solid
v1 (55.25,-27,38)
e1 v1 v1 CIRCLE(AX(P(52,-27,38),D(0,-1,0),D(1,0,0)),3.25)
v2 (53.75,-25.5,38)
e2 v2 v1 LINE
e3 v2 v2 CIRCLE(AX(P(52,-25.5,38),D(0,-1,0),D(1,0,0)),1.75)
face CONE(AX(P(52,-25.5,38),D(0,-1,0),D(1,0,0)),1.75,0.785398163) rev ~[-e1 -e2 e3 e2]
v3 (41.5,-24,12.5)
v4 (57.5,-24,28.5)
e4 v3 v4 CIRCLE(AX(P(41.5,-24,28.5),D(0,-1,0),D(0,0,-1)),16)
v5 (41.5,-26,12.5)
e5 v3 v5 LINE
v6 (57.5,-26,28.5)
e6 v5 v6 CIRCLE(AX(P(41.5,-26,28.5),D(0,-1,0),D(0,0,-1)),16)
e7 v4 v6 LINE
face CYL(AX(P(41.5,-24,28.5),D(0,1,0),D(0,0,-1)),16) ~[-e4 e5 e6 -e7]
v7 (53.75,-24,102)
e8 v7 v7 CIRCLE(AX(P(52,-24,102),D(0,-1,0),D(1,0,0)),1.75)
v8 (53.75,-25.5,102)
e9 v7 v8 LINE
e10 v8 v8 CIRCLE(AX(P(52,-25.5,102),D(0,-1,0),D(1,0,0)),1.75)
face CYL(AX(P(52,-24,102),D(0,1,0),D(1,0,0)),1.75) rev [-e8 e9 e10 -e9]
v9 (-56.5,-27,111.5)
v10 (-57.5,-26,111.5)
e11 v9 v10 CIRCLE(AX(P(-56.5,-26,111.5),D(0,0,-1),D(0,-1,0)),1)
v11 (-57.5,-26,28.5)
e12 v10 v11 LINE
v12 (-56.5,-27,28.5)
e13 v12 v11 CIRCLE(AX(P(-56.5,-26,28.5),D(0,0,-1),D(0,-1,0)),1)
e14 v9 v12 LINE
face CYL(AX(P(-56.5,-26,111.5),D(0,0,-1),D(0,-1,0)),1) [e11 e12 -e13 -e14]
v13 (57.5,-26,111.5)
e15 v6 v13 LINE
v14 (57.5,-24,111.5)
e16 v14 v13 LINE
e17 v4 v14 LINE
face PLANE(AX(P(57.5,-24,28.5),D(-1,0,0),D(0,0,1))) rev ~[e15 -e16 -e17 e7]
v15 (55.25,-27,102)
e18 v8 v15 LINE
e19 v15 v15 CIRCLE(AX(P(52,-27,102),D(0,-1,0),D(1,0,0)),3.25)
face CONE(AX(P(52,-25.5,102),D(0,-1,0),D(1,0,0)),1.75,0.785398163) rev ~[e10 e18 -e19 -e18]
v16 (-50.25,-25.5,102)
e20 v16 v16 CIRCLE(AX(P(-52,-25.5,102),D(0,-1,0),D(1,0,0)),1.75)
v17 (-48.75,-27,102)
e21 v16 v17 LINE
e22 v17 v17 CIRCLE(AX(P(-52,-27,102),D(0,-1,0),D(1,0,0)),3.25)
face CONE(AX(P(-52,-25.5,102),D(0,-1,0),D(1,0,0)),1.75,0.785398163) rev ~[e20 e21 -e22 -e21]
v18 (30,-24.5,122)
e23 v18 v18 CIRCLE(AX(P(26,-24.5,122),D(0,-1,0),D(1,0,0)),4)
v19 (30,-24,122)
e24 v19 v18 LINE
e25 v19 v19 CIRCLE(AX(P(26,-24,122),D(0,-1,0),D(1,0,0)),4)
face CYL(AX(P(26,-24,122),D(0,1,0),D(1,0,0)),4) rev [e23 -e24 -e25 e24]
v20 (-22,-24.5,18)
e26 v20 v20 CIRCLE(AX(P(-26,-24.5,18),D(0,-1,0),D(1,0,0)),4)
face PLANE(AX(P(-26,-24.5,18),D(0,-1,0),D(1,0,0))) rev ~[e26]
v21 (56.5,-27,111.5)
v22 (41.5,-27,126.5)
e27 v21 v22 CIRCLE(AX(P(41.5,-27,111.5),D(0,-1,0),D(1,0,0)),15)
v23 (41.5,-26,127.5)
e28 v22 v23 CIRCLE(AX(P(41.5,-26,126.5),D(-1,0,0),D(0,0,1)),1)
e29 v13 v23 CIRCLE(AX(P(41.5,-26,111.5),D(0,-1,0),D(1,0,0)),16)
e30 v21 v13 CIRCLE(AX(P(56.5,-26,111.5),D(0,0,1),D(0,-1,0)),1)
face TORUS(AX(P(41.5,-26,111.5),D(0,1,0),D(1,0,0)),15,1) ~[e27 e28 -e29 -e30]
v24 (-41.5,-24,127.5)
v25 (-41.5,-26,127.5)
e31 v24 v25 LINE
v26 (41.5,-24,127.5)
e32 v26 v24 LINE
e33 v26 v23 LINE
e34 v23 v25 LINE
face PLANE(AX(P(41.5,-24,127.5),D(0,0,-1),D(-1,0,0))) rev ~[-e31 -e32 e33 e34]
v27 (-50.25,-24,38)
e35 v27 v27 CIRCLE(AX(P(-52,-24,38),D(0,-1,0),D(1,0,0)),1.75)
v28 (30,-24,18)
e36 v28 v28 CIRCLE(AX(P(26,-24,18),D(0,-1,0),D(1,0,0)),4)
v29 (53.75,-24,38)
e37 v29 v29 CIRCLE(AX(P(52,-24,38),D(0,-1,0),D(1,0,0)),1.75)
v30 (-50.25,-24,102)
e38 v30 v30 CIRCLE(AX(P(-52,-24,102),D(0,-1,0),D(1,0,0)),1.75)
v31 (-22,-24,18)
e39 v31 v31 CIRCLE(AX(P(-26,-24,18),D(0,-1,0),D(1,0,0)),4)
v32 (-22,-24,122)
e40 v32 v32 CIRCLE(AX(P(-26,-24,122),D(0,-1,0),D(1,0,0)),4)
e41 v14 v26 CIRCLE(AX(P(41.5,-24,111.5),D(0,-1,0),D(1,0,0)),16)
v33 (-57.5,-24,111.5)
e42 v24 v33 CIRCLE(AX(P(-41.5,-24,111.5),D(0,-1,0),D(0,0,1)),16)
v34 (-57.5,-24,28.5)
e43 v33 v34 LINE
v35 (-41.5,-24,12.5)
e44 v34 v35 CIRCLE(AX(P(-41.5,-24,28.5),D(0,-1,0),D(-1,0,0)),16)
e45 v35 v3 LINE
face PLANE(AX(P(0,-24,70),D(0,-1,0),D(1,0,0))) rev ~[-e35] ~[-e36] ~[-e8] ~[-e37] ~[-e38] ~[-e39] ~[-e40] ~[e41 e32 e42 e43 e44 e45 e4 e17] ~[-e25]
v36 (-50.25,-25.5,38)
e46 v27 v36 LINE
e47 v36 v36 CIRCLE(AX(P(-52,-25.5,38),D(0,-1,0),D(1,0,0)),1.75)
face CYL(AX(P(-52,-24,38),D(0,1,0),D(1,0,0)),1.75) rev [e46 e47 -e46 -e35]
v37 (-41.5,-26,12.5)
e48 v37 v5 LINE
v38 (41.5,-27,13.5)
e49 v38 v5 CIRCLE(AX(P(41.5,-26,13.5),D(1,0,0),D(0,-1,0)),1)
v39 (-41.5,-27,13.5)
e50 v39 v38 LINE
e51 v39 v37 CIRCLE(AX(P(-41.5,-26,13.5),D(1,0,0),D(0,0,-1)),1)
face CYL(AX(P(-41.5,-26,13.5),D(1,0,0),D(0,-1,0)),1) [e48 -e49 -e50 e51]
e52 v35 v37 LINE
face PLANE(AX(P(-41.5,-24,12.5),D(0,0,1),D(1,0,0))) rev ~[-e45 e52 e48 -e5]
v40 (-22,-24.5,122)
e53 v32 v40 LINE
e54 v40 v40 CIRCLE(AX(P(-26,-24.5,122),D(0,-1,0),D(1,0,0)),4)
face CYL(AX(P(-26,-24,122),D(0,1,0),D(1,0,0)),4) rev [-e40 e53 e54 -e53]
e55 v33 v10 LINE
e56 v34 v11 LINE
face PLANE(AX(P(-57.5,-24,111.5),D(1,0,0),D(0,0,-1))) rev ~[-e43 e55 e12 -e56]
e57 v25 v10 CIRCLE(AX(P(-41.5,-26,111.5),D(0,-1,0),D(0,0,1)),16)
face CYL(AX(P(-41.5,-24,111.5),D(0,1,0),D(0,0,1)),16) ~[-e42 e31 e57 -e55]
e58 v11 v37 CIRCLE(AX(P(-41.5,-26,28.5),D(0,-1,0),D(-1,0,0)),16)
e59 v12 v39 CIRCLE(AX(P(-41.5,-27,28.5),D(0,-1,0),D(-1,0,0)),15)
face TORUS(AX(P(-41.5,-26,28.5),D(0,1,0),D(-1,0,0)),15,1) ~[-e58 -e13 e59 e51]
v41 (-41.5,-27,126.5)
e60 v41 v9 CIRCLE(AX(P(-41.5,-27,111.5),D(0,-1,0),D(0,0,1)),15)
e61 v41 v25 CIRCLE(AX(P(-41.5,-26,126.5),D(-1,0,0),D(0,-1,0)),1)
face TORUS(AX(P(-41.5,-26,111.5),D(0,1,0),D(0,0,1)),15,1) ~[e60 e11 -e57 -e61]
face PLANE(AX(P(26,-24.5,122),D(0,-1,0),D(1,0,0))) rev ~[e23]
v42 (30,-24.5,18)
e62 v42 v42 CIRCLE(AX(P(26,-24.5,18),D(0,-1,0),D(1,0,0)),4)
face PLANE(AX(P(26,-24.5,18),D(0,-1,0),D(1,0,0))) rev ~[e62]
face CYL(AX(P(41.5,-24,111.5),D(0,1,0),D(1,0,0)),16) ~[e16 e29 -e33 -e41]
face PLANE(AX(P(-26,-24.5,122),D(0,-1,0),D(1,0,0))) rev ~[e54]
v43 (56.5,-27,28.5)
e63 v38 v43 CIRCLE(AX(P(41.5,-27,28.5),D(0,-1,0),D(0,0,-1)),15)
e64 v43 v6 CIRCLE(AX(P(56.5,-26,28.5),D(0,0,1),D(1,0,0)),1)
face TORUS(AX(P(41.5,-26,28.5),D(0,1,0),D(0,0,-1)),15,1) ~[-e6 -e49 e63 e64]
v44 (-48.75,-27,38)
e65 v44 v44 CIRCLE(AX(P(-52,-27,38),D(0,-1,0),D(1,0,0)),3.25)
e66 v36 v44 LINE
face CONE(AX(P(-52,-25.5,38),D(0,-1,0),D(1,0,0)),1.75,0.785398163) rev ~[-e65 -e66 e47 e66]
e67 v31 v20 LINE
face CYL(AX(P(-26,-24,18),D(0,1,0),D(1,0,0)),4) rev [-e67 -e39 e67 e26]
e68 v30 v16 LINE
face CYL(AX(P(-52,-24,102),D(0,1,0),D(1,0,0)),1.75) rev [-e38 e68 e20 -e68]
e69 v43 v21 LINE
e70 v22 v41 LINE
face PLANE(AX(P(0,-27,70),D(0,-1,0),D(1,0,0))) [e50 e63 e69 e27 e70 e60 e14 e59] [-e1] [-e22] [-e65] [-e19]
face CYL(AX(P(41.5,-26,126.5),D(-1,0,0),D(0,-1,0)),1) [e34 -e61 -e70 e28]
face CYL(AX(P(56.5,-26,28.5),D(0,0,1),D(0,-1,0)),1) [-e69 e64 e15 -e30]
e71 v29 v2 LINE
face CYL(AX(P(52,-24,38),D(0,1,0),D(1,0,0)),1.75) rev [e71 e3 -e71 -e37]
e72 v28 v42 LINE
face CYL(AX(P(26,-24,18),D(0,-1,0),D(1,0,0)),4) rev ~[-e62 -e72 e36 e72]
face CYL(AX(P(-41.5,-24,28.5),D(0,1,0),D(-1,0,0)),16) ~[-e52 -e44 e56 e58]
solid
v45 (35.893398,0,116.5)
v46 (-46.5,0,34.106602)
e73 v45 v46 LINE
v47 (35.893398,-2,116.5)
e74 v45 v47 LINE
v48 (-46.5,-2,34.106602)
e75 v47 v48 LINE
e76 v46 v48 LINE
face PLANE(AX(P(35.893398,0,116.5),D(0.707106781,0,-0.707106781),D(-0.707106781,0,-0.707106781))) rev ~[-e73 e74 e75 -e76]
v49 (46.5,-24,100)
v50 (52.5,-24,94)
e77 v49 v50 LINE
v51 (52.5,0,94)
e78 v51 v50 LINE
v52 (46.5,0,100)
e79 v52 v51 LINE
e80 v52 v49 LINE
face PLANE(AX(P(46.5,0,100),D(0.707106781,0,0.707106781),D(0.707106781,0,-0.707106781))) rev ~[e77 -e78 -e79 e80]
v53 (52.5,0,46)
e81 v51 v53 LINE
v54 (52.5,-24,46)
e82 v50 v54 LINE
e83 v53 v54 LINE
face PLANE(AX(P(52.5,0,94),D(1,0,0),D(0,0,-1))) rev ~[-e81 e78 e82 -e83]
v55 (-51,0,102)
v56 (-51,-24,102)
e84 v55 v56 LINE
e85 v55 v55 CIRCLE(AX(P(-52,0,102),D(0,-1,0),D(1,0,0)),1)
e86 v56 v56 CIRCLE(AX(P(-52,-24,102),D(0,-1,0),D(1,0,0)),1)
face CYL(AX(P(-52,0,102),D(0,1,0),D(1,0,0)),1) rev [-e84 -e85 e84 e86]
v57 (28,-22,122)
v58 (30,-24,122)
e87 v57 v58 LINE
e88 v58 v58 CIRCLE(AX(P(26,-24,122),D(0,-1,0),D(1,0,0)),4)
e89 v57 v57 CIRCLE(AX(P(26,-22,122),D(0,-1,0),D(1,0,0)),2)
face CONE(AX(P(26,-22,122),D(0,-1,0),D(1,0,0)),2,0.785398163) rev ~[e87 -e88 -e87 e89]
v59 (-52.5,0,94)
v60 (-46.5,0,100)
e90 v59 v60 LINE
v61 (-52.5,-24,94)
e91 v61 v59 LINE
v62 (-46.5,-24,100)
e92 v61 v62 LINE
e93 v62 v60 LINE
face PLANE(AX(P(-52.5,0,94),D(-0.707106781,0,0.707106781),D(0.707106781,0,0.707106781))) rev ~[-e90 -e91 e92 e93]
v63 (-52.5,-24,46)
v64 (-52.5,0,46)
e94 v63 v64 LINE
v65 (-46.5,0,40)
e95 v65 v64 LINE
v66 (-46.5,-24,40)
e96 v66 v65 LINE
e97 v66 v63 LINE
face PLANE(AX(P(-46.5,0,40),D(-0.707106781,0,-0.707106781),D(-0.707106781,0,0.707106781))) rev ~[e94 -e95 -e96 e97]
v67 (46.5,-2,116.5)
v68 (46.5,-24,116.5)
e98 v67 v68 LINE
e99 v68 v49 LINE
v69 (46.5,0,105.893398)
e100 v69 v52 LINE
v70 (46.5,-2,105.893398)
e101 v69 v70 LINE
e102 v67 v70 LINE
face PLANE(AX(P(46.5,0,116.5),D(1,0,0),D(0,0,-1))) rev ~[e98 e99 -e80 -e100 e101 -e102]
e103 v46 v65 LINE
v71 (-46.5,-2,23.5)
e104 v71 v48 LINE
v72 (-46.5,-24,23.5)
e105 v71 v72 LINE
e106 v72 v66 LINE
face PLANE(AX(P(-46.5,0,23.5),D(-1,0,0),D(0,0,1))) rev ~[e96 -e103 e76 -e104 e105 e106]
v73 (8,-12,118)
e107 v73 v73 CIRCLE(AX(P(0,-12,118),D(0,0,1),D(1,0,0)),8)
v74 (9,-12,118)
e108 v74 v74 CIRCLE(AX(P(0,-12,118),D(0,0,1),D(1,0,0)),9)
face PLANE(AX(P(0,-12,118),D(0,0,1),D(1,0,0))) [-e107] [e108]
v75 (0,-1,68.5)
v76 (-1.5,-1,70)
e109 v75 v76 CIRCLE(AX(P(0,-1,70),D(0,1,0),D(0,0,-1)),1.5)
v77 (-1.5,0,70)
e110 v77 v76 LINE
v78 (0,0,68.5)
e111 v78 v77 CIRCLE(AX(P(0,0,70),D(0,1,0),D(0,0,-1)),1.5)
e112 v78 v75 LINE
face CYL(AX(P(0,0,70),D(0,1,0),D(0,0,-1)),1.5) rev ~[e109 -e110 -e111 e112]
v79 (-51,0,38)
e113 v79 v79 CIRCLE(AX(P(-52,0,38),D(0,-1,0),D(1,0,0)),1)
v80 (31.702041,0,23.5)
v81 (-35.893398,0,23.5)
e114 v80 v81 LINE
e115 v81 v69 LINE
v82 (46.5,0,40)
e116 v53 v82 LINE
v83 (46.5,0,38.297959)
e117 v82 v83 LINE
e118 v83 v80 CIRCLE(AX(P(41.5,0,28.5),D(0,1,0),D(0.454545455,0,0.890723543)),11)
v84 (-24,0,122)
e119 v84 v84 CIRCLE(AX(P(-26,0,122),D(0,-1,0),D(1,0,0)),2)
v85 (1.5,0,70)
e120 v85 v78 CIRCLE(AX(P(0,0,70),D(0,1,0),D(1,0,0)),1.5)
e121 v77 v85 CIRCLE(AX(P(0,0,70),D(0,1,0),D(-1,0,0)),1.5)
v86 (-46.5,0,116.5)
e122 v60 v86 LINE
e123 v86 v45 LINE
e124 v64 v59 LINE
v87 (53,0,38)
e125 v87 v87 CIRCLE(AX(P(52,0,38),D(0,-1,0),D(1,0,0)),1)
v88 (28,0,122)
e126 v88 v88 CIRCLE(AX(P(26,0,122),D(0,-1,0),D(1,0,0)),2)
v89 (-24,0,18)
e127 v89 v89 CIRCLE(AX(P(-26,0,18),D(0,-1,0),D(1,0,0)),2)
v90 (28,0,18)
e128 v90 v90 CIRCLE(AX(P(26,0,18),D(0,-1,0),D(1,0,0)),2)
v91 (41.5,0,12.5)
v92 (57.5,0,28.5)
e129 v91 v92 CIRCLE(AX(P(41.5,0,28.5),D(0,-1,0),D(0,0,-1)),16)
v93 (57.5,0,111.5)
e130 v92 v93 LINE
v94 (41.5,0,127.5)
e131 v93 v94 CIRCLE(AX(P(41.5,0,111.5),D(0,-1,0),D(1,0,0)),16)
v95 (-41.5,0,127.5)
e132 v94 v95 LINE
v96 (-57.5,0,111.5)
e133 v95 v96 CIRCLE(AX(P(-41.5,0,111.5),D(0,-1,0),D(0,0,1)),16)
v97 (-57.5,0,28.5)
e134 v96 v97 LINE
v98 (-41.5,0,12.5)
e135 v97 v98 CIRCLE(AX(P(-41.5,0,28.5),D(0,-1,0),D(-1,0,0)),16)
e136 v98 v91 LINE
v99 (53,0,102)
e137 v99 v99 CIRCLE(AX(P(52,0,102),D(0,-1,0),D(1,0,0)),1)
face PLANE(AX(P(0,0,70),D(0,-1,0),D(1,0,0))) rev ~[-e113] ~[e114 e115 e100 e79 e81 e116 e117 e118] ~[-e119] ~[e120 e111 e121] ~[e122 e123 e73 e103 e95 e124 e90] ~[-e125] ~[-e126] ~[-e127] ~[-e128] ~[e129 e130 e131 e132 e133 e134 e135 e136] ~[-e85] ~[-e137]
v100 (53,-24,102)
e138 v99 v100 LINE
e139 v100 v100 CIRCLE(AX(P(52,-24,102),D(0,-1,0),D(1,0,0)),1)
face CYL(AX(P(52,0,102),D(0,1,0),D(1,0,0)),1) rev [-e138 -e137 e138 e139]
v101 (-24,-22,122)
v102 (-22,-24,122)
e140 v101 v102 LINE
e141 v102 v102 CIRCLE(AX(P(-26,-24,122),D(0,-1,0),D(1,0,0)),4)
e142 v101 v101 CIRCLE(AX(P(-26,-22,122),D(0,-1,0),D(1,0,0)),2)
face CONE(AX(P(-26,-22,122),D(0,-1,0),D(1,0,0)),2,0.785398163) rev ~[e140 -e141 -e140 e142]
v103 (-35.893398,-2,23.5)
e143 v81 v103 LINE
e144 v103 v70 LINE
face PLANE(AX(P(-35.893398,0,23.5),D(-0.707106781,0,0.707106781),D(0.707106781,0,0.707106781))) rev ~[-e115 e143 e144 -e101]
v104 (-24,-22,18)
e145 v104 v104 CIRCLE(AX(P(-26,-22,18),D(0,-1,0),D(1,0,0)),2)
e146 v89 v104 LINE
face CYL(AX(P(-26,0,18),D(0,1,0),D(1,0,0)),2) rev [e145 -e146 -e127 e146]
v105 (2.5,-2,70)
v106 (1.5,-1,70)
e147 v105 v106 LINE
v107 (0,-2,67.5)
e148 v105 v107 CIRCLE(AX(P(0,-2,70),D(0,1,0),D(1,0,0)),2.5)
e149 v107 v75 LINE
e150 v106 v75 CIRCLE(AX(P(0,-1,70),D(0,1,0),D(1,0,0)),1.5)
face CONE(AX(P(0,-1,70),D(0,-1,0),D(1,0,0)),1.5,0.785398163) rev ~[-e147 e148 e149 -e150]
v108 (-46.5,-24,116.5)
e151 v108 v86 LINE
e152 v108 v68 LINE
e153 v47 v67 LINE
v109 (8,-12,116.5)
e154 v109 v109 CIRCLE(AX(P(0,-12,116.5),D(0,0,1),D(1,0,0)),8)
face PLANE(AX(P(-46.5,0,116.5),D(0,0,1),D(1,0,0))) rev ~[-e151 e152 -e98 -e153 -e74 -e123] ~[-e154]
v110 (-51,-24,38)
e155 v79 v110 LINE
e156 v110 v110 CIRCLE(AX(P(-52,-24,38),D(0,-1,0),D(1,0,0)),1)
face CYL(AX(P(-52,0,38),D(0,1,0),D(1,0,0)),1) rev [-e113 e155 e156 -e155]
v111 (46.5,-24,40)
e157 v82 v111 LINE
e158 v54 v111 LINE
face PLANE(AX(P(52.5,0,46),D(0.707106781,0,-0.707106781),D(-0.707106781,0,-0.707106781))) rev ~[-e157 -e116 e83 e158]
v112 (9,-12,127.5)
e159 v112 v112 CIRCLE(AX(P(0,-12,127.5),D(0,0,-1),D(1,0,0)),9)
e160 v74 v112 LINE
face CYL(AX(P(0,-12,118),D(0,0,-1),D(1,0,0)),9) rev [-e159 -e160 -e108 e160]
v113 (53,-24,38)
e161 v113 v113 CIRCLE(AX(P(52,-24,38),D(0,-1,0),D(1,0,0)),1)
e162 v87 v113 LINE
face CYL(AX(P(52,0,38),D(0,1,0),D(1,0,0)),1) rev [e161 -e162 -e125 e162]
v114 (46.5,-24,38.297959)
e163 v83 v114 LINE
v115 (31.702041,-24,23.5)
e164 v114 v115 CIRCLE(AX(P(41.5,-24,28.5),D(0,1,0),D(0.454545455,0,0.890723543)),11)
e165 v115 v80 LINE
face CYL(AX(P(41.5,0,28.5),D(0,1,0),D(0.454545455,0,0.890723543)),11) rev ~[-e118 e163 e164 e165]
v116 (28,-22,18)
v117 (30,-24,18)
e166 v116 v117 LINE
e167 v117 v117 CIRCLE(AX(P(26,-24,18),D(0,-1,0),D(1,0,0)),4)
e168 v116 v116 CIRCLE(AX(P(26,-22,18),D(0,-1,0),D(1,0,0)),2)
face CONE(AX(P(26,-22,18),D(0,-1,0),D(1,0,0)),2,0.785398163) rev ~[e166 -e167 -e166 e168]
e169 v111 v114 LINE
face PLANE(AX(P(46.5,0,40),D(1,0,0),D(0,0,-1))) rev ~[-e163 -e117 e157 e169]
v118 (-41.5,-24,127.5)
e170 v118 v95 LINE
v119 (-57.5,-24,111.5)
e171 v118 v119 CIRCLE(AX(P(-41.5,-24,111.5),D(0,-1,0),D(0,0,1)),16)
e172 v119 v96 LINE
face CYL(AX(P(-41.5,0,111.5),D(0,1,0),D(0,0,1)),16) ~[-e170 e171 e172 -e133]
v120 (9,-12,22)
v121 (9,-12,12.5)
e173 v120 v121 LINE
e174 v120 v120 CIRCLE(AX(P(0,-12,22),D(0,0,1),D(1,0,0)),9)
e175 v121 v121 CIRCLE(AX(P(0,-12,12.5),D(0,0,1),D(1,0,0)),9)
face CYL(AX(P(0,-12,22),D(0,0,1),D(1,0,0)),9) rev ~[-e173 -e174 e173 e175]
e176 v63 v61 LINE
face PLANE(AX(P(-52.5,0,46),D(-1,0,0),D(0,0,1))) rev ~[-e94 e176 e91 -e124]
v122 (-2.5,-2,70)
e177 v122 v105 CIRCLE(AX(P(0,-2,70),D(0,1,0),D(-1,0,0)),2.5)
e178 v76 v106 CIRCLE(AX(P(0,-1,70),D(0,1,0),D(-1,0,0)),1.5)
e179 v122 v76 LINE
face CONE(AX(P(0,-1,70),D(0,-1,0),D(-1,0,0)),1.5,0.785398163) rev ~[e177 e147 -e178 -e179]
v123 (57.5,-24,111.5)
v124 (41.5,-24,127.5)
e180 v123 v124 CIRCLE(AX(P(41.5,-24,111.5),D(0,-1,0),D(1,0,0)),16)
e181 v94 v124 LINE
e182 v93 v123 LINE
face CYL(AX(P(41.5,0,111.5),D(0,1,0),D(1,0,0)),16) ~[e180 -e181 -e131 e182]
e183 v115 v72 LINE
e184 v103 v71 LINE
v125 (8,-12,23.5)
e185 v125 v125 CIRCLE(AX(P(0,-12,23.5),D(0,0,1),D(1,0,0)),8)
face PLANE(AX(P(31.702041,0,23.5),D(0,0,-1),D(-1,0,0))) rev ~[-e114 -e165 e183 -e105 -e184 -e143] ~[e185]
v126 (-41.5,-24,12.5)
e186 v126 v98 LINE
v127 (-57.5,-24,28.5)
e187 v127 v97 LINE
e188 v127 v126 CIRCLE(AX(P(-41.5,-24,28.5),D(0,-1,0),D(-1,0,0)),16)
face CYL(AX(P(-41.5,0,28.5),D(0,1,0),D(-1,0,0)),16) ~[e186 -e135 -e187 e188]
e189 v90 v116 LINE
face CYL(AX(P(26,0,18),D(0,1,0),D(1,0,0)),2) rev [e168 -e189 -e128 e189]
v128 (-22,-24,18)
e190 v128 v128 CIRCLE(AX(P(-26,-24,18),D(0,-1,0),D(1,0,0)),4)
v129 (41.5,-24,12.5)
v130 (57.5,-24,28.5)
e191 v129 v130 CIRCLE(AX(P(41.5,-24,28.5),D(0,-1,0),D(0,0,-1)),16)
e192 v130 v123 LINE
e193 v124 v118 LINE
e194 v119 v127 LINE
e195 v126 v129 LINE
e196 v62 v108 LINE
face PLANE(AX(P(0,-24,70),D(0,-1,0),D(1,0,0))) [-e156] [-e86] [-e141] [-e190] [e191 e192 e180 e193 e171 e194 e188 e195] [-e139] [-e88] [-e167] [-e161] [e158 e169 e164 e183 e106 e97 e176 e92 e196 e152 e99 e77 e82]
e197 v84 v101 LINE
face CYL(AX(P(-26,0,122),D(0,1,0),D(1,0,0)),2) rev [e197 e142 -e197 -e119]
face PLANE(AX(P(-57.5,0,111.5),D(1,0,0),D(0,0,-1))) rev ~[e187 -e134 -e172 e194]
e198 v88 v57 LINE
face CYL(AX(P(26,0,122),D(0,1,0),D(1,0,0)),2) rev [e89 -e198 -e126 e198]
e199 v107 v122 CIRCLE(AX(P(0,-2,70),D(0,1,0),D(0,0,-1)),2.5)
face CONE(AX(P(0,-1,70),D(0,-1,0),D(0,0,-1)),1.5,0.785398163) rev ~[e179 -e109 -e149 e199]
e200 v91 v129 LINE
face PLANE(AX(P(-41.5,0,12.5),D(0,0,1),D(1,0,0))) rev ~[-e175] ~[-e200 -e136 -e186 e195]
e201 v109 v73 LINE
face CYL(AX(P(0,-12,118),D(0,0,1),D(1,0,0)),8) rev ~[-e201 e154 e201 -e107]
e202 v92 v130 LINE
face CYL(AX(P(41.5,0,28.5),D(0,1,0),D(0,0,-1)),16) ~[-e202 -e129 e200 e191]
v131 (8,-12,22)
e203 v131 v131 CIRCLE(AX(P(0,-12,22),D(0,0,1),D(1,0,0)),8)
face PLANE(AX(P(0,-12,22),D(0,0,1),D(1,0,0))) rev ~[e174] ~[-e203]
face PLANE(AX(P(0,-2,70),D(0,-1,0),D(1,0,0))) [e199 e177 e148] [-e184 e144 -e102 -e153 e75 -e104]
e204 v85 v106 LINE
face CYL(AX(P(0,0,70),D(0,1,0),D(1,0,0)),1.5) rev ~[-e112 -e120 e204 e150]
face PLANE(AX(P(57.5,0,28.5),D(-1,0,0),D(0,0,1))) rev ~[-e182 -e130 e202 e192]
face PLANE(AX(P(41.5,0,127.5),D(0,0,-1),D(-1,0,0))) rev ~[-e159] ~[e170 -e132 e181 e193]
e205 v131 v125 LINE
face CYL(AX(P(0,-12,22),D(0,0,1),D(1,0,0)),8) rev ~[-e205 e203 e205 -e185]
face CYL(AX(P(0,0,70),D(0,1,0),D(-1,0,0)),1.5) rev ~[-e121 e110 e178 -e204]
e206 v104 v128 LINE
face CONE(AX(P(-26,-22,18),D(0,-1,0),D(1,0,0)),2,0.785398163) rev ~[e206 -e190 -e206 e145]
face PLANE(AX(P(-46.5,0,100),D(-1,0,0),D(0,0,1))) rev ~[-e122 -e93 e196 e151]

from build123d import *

# Parameters (mm, degrees)
F0_R      = 1
F0_R_2    = 2
F1_DEPTH  = 24
F2_SIZE   = 2
F4_R      = 9
F4_R_2    = 8
F5_DEPTH  = 25
F6_DEPTH  = 13.5
F8_R      = 9
F8_R_2    = 8
F9_DEPTH  = 25
F10_DEPTH = 13.5
F12_R     = 1.75
F12_R_2   = 4
F13_DEPTH = 3
F14_SIZE  = 1.5
F15_R     = 1
F16_DEPTH = 0.5
F17_DEPTH = 2
F18_SIZE  = 1


with BuildPart() as f1:
    # F0 (on Front) → F1 (new body)
    with BuildSketch(Plane.XZ):
        with BuildLine():
            Line((-41.5, 12.5), (41.5, 12.5))
            ThreePointArc((41.5, 12.5), (52.813708499, 17.186291501), (57.5, 28.5))
            Line((57.5, 28.5), (57.5, 111.5))
            ThreePointArc((57.5, 111.5), (52.813708499, 122.813708499), (41.5, 127.5))
            Line((41.5, 127.5), (-41.5, 127.5))
            ThreePointArc((-41.5, 127.5), (-52.813708499, 122.813708499), (-57.5, 111.5))
            Line((-57.5, 111.5), (-57.5, 28.5))
            ThreePointArc((-57.5, 28.5), (-52.813708499, 17.186291501), (-41.5, 12.5))
        make_face()
        with Locations((-52, 38)):
            Circle(F0_R, mode=Mode.SUBTRACT)
        with Locations((-26, 18)):
            Circle(F0_R_2, mode=Mode.SUBTRACT)
        with Locations((26, 18)):
            Circle(F0_R_2, mode=Mode.SUBTRACT)
        with Locations((52, 38)):
            Circle(F0_R, mode=Mode.SUBTRACT)
        with BuildLine():
            Line((46.5, 116.5), (46.5, 105.8933982822))
            Line((46.5, 105.8933982822), (46.5, 100))
            Line((46.5, 100), (52.5, 94))
            Line((52.5, 94), (52.5, 46))
            Line((52.5, 46), (46.5, 40))
            Line((46.5, 40), (46.5, 38.2979589711))
            ThreePointArc((46.5, 38.2979589711), (49.2781745931, 20.7218254069), (31.7020410289, 23.5))
            Line((31.7020410289, 23.5), (-35.8933982822, 23.5))
            Line((-35.8933982822, 23.5), (-46.5, 23.5))
            Line((-46.5, 23.5), (-46.5, 34.1066017178))
            Line((-46.5, 34.1066017178), (-46.5, 40))
            Line((-46.5, 40), (-52.5, 46))
            Line((-52.5, 46), (-52.5, 94))
            Line((-52.5, 94), (-46.5, 100))
            Line((-46.5, 100), (-46.5, 116.5))
            Line((-46.5, 116.5), (35.8933982822, 116.5))
            Line((35.8933982822, 116.5), (46.5, 116.5))
        make_face(mode=Mode.SUBTRACT)
        with Locations((-52, 102)):
            Circle(F0_R, mode=Mode.SUBTRACT)
        with Locations((-26, 122)):
            Circle(F0_R_2, mode=Mode.SUBTRACT)
        with Locations((26, 122)):
            Circle(F0_R_2, mode=Mode.SUBTRACT)
        with Locations((52, 102)):
            Circle(F0_R, mode=Mode.SUBTRACT)
    extrude(amount=F1_DEPTH)

    # F2
    f2_edges = [f1.edges().sort_by_distance(p)[0] for p in [
        (-28, -24, 122),
        (24, -24, 18),
        (-28, -24, 18),
        (24, -24, 122),
    ]]
    chamfer(f2_edges, length=F2_SIZE)

    # F4 (on offset) → F5 (cut)
    with BuildSketch(Plane.XY.offset(118)):
        with Locations((0, -12)):
            Circle(F4_R)
        with Locations((0, -12)):
            Circle(F4_R_2, mode=Mode.SUBTRACT)
    extrude(amount=F5_DEPTH, mode=Mode.SUBTRACT)

    # F4 (on offset) → F6 (cut, symmetric)
    with BuildSketch(Plane.XY.offset(118)):
        with Locations((0, -12)):
            Circle(F4_R_2)
    extrude(amount=F6_DEPTH, both=True, mode=Mode.SUBTRACT)

    # F8 (on offset) → F9 (cut)
    with BuildSketch(Plane.XY.offset(22)):
        with Locations((0, -12)):
            Circle(F8_R)
        with Locations((0, -12)):
            Circle(F8_R_2, mode=Mode.SUBTRACT)
    extrude(amount=-F9_DEPTH, mode=Mode.SUBTRACT)

    # F8 (on offset) → F10 (cut, symmetric)
    with BuildSketch(Plane.XY.offset(22)):
        with Locations((0, -12)):
            Circle(F8_R_2)
    extrude(amount=F10_DEPTH, both=True, mode=Mode.SUBTRACT)

    # F0 (on Front) → F17 (join)
    with BuildSketch(Plane.XZ):
        with BuildLine():
            Line((-41.5, 12.5), (41.5, 12.5))
            ThreePointArc((41.5, 12.5), (52.813708499, 17.186291501), (57.5, 28.5))
            Line((57.5, 28.5), (57.5, 111.5))
            ThreePointArc((57.5, 111.5), (52.813708499, 122.813708499), (41.5, 127.5))
            Line((41.5, 127.5), (-41.5, 127.5))
            ThreePointArc((-41.5, 127.5), (-52.813708499, 122.813708499), (-57.5, 111.5))
            Line((-57.5, 111.5), (-57.5, 28.5))
            ThreePointArc((-57.5, 28.5), (-52.813708499, 17.186291501), (-41.5, 12.5))
        make_face()
        with Locations((-52, 38)):
            Circle(F0_R, mode=Mode.SUBTRACT)
        with Locations((-26, 18)):
            Circle(F0_R_2, mode=Mode.SUBTRACT)
        with Locations((26, 18)):
            Circle(F0_R_2, mode=Mode.SUBTRACT)
        with Locations((52, 38)):
            Circle(F0_R, mode=Mode.SUBTRACT)
        with BuildLine():
            Line((46.5, 116.5), (46.5, 105.8933982822))
            Line((46.5, 105.8933982822), (46.5, 100))
            Line((46.5, 100), (52.5, 94))
            Line((52.5, 94), (52.5, 46))
            Line((52.5, 46), (46.5, 40))
            Line((46.5, 40), (46.5, 38.2979589711))
            ThreePointArc((46.5, 38.2979589711), (49.2781745931, 20.7218254069), (31.7020410289, 23.5))
            Line((31.7020410289, 23.5), (-35.8933982822, 23.5))
            Line((-35.8933982822, 23.5), (-46.5, 23.5))
            Line((-46.5, 23.5), (-46.5, 34.1066017178))
            Line((-46.5, 34.1066017178), (-46.5, 40))
            Line((-46.5, 40), (-52.5, 46))
            Line((-52.5, 46), (-52.5, 94))
            Line((-52.5, 94), (-46.5, 100))
            Line((-46.5, 100), (-46.5, 116.5))
            Line((-46.5, 116.5), (35.8933982822, 116.5))
            Line((35.8933982822, 116.5), (46.5, 116.5))
        make_face(mode=Mode.SUBTRACT)
        with Locations((-52, 102)):
            Circle(F0_R, mode=Mode.SUBTRACT)
        with Locations((-26, 122)):
            Circle(F0_R_2, mode=Mode.SUBTRACT)
        with Locations((26, 122)):
            Circle(F0_R_2, mode=Mode.SUBTRACT)
        with Locations((52, 102)):
            Circle(F0_R, mode=Mode.SUBTRACT)
        with BuildLine():
            ThreePointArc((0, 68.5), (-1.0606601718, 68.9393398282), (-1.5, 70))
            Line((-1.5, 70), (-10.6066017178, 70))
            Line((-10.6066017178, 70), (-46.5, 34.1066017178))
            Line((-46.5, 34.1066017178), (-46.5, 23.5))
            Line((-46.5, 23.5), (-35.8933982822, 23.5))
            Line((-35.8933982822, 23.5), (0, 59.3933982822))
            Line((0, 59.3933982822), (0, 68.5))
        make_face()
        with BuildLine():
            Line((10.6066017178, 70), (1.5, 70))
            ThreePointArc((1.5, 70), (1.0606601718, 68.9393398282), (0, 68.5))
            Line((0, 68.5), (0, 59.3933982822))
            Line((0, 59.3933982822), (10.6066017178, 70))
        make_face()
        with BuildLine():
            ThreePointArc((-1.5, 70), (0, 71.5), (1.5, 70))
            Line((1.5, 70), (10.6066017178, 70))
            Line((10.6066017178, 70), (46.5, 105.8933982822))
            Line((46.5, 105.8933982822), (46.5, 116.5))
            Line((46.5, 116.5), (35.8933982822, 116.5))
            Line((35.8933982822, 116.5), (-10.6066017178, 70))
            Line((-10.6066017178, 70), (-1.5, 70))
        make_face()
    extrude(amount=F17_DEPTH)

    # F18
    f18_edges = [f1.edges().sort_by_distance(p)[0] for p in [
        (1.5, -2, 70),
    ]]
    chamfer(f18_edges, length=F18_SIZE)


with BuildPart() as f13:
    # F12 (on offset) → F13 (new body)
    with BuildSketch(Plane.XZ.offset(24)):
        with BuildLine():
            Line((41.5, 127.5), (-41.5, 127.5))
            ThreePointArc((-41.5, 127.5), (-52.813708499, 122.813708499), (-57.5, 111.5))
            Line((-57.5, 111.5), (-57.5, 28.5))
            ThreePointArc((-57.5, 28.5), (-52.813708499, 17.186291501), (-41.5, 12.5))
            Line((-41.5, 12.5), (41.5, 12.5))
            ThreePointArc((41.5, 12.5), (52.813708499, 17.186291501), (57.5, 28.5))
            Line((57.5, 28.5), (57.5, 111.5))
            ThreePointArc((57.5, 111.5), (52.813708499, 122.813708499), (41.5, 127.5))
        make_face()
        with Locations((-52, 38)):
            Circle(F12_R, mode=Mode.SUBTRACT)
        with Locations((-26, 18)):
            Circle(F12_R_2, mode=Mode.SUBTRACT)
        with Locations((26, 18)):
            Circle(F12_R_2, mode=Mode.SUBTRACT)
        with Locations((52, 38)):
            Circle(F12_R, mode=Mode.SUBTRACT)
        with Locations((-52, 102)):
            Circle(F12_R, mode=Mode.SUBTRACT)
        with Locations((-26, 122)):
            Circle(F12_R_2, mode=Mode.SUBTRACT)
        with Locations((26, 122)):
            Circle(F12_R_2, mode=Mode.SUBTRACT)
        with Locations((52, 102)):
            Circle(F12_R, mode=Mode.SUBTRACT)
        with Locations((-26, 122)):
            Circle(F12_R_2)
        with Locations((26, 122)):
            Circle(F12_R_2)
        with Locations((-26, 18)):
            Circle(F12_R_2)
        with Locations((26, 18)):
            Circle(F12_R_2)
    extrude(amount=F13_DEPTH)

    # F14
    f14_edges = [f13.edges().sort_by_distance(p)[0] for p in [
        (-53.75, -27, 102),
        (-53.75, -27, 38),
        (50.25, -27, 38),
        (50.25, -27, 102),
    ]]
    chamfer(f14_edges, length=F14_SIZE)

    # F15
    f15_edges = [f13.edges().sort_by_distance(p)[0] for p in [
        (-57.5, -27, 70),
    ]]
    fillet(f15_edges, radius=F15_R)

    # F12 (on offset) → F16 (cut, symmetric)
    with BuildSketch(Plane.XZ.offset(24)):
        with Locations((-26, 122)):
            Circle(F12_R_2)
        with Locations((26, 122)):
            Circle(F12_R_2)
        with Locations((-26, 18)):
            Circle(F12_R_2)
        with Locations((26, 18)):
            Circle(F12_R_2)
    extrude(amount=F16_DEPTH, both=True, mode=Mode.SUBTRACT)


solid = Compound([f1.part, f13.part])
